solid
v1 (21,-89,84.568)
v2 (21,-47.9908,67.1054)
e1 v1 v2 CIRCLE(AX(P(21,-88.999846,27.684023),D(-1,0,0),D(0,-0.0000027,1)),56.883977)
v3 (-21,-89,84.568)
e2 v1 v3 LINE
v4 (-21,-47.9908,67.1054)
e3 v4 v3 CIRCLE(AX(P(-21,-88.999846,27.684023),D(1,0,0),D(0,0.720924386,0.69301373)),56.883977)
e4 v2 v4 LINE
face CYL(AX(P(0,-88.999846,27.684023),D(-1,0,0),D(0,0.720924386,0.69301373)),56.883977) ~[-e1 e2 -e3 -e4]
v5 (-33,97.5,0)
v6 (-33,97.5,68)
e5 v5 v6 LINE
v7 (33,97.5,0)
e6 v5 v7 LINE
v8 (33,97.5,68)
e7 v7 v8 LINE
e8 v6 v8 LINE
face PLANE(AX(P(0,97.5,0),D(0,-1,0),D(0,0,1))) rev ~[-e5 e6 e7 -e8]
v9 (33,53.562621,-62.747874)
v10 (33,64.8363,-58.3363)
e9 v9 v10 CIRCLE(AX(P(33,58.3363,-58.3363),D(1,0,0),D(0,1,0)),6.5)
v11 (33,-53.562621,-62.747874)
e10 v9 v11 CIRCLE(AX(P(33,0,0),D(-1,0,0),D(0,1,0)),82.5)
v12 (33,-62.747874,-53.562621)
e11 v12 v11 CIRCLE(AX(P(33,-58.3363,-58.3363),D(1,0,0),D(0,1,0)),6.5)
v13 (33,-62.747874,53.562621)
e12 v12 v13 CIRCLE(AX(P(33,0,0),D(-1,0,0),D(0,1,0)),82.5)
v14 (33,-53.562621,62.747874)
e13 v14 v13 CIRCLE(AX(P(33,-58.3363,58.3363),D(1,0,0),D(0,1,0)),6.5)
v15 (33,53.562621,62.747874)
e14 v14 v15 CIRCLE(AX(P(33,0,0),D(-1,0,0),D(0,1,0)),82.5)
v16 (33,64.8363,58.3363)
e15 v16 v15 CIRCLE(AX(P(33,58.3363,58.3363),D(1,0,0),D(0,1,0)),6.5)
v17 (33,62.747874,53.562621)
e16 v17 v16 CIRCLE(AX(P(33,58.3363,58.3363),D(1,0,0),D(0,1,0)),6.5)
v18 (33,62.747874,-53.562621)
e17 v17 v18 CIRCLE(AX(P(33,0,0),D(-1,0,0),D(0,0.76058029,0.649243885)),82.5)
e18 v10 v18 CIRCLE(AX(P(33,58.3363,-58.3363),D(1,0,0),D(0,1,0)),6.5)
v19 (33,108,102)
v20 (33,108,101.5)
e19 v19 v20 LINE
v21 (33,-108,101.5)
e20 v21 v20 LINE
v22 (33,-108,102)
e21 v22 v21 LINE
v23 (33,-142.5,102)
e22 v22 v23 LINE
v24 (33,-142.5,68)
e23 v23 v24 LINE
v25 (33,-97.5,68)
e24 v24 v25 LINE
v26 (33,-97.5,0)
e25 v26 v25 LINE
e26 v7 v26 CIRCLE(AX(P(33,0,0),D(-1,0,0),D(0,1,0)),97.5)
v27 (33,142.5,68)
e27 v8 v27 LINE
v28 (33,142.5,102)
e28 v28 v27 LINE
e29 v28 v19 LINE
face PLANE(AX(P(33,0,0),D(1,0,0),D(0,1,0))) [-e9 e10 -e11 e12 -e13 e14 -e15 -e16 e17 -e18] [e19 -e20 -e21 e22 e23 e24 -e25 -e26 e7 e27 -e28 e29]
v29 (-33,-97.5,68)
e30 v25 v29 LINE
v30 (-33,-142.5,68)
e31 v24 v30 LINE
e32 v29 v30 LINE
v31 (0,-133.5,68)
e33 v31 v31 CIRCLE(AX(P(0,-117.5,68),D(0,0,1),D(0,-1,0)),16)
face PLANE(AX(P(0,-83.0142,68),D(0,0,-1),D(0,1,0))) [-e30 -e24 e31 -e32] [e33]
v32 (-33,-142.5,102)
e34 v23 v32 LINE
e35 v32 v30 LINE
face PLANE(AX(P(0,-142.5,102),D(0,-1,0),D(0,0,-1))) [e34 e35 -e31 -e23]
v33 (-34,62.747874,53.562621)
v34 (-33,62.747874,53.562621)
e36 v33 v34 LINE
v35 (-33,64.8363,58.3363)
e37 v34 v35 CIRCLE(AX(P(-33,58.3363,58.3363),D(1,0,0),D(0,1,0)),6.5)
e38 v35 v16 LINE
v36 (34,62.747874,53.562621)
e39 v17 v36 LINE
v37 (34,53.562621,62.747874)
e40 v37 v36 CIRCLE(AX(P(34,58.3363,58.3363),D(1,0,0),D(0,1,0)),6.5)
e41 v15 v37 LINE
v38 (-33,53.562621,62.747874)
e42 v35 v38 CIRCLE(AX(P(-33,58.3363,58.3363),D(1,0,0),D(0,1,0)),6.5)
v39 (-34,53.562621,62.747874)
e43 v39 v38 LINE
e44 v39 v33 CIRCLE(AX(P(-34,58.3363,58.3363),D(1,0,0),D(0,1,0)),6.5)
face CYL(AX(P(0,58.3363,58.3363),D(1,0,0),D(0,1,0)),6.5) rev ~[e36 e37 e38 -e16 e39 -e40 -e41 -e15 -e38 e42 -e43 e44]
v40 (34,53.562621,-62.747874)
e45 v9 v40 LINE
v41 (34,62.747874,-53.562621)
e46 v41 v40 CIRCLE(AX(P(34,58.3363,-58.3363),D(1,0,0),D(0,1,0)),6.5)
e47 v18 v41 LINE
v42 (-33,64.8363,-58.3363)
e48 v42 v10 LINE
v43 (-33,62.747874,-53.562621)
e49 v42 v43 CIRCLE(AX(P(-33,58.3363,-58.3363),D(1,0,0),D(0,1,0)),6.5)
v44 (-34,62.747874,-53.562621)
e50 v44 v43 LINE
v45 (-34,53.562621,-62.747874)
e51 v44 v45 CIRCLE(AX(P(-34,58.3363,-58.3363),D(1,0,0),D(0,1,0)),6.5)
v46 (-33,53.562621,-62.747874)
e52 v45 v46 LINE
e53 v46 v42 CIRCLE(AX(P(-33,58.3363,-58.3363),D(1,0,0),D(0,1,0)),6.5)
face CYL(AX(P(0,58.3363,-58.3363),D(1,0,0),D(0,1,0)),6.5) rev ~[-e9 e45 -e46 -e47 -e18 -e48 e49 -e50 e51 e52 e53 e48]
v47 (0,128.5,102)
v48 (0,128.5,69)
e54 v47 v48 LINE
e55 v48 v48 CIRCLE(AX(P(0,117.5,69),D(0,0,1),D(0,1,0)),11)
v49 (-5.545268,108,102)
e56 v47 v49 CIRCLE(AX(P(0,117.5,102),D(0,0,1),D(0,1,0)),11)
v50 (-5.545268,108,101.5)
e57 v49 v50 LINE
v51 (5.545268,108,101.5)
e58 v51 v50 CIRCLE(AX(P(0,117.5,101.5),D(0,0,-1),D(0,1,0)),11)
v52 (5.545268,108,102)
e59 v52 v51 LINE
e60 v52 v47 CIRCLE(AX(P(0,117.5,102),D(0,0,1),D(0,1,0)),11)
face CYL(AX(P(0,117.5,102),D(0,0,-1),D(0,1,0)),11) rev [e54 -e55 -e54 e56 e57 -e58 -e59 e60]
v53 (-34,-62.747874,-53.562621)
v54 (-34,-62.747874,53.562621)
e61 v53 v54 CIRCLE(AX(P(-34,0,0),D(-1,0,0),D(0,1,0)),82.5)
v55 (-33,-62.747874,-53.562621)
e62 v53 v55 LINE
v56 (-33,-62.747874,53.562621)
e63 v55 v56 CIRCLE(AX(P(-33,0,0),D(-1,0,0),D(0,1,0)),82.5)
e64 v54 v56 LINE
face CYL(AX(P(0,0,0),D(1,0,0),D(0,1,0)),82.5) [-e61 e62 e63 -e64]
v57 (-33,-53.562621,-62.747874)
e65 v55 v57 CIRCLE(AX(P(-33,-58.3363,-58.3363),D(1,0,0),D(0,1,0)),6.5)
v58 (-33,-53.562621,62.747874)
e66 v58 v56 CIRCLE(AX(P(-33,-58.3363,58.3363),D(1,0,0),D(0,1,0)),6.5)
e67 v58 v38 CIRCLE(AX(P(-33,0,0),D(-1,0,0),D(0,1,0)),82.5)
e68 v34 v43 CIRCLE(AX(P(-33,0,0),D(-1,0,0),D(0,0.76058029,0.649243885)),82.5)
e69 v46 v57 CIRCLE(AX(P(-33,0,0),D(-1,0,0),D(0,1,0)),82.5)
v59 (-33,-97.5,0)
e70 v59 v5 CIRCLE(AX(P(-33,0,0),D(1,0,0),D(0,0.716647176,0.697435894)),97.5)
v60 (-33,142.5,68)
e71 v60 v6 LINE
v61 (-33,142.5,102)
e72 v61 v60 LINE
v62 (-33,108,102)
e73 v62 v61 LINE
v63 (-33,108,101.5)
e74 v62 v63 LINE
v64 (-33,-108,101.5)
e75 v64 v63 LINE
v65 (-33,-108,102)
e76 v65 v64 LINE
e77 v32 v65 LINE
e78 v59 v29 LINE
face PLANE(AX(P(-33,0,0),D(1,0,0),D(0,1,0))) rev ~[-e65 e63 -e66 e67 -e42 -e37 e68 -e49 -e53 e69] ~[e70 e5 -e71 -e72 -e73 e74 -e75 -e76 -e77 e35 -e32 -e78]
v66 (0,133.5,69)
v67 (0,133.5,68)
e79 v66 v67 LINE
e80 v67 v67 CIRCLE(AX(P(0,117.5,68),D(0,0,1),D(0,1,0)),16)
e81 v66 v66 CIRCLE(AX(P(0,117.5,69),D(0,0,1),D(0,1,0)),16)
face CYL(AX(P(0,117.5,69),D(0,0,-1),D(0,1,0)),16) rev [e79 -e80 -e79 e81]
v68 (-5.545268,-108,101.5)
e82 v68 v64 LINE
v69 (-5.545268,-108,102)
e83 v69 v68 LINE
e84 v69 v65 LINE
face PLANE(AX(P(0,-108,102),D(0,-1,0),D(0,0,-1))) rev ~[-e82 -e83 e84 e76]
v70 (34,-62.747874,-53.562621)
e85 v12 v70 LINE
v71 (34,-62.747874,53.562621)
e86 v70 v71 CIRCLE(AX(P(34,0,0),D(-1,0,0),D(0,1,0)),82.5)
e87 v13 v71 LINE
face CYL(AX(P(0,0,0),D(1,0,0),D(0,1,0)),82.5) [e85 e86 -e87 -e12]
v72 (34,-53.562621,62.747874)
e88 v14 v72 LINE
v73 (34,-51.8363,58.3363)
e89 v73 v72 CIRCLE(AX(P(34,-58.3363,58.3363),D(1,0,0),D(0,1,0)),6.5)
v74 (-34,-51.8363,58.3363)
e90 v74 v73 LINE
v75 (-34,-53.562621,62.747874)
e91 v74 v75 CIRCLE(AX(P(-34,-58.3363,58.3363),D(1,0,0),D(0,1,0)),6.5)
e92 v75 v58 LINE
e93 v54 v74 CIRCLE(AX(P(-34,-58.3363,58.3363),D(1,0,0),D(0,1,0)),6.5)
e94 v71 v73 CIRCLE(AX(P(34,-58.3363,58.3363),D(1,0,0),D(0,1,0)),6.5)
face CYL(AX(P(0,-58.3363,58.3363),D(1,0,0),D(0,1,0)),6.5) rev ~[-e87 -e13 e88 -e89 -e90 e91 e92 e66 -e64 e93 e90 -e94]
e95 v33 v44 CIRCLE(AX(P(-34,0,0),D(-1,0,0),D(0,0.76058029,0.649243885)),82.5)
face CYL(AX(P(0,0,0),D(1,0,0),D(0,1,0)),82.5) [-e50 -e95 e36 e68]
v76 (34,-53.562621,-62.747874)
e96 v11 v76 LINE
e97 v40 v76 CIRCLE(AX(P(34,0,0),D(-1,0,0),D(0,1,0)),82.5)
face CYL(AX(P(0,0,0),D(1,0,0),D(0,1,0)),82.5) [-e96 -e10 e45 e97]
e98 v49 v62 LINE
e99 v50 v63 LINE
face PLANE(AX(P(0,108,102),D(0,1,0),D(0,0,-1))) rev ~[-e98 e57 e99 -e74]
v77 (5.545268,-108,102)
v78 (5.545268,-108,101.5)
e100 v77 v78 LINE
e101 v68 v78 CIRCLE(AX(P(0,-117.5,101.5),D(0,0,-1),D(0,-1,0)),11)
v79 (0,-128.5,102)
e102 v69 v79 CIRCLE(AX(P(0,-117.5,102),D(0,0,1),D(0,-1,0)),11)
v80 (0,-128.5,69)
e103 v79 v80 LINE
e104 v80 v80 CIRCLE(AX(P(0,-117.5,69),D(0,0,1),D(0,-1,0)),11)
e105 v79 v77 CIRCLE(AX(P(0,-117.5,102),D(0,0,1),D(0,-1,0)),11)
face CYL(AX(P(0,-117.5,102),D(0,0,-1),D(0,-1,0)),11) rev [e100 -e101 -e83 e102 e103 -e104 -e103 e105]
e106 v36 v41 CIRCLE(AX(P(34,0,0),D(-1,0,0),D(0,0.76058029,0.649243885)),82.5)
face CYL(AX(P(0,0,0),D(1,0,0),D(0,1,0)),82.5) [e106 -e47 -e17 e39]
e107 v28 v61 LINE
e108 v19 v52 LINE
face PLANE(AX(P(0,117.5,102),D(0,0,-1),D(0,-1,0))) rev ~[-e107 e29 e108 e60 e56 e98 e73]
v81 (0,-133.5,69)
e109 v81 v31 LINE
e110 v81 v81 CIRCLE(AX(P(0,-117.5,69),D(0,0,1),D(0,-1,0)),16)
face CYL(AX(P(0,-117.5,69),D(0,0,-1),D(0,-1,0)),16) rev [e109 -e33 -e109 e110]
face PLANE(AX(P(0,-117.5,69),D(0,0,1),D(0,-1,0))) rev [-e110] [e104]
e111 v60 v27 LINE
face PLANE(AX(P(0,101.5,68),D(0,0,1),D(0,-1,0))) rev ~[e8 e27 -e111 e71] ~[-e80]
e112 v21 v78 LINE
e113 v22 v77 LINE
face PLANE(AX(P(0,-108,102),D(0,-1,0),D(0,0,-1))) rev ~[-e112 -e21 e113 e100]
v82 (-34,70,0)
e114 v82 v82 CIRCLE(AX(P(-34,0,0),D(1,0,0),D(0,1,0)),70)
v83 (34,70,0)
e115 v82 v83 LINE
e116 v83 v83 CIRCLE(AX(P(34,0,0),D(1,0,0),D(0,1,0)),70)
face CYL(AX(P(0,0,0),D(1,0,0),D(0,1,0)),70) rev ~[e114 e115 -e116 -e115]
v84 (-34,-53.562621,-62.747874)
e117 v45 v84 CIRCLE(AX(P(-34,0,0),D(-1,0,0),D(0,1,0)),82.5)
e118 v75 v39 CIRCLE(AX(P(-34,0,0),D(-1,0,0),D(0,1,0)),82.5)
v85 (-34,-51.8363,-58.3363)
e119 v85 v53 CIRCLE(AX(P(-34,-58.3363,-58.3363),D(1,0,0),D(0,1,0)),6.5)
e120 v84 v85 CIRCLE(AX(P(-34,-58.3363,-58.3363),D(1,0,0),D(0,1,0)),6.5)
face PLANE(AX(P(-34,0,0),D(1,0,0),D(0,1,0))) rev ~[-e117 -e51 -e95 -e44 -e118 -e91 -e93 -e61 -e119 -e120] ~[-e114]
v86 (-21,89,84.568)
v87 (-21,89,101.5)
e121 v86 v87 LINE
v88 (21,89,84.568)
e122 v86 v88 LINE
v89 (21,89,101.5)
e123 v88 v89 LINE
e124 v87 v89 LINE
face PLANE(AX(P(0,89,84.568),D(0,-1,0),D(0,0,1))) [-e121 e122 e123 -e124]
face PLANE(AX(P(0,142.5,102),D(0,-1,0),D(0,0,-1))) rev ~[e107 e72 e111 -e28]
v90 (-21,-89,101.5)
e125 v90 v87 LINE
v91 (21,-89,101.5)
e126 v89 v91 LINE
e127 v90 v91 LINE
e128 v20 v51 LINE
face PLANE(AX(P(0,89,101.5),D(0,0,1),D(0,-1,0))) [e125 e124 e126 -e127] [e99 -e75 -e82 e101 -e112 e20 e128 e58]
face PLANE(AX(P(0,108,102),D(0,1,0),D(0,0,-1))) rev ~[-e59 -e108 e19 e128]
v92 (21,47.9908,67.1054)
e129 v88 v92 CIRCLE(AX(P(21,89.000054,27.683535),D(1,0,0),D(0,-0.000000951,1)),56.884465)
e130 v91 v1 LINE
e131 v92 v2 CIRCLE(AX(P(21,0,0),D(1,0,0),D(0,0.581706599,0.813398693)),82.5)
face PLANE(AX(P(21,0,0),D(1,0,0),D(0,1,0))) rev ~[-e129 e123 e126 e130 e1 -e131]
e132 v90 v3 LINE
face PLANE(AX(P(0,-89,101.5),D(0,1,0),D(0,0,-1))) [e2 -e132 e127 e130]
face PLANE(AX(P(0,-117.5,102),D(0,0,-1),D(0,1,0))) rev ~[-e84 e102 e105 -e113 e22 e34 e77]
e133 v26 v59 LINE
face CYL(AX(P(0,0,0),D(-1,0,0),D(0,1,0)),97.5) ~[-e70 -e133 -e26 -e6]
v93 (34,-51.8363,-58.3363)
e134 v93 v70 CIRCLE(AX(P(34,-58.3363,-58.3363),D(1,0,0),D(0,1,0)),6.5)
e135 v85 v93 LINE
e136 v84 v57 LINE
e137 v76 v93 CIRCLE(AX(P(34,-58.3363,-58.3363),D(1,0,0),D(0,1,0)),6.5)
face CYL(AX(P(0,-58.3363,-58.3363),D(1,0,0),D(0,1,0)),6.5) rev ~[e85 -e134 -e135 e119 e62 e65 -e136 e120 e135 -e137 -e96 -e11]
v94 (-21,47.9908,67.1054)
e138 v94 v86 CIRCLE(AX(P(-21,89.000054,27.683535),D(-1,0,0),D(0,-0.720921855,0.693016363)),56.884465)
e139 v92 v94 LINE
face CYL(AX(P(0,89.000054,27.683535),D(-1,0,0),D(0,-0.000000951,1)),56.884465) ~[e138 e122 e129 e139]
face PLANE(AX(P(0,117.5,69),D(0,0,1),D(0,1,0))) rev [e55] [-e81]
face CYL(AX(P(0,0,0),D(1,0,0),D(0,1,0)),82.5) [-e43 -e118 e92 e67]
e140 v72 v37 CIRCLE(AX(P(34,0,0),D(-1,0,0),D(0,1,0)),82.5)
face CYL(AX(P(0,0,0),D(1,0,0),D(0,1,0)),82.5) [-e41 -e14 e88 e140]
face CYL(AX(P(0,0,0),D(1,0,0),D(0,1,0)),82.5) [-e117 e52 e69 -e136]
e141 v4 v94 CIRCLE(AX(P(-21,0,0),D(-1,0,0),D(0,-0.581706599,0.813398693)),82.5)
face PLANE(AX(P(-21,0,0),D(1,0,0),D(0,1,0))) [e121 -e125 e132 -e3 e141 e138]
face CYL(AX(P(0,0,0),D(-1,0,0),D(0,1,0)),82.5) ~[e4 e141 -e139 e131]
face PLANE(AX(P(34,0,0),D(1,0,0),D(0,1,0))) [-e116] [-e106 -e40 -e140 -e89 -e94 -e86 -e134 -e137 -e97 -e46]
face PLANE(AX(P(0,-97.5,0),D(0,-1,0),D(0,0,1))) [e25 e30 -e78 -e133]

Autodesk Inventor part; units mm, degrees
ref_plane "XZ Plane" through (0, 0, 0) normal (0, 1, 0) x (-1, 0, 0)
ref_plane "XY Plane" through (0, 0, 0) normal (0, 0, 1) x (1, 0, 0)
sketch "Эскиз1" plane through (0, 0, 0) normal (1, 0, 0) x (0, 1, 0)
  circle A0 centre (0, 0) radius 70
  circle A1 centre (0, 0) radius 82.5
  arc A2 (80.4212, 18.894) -> (80.3103, 18.8815) centre (82.3009, 1.7165) ccw
  circle A3 centre (0, 0) radius 97.5
  line L0 (142.5, 102) -> (108, 102)
  line L1 (0, -132.6) -> (0, 165.6) projected
  line L2 (142.5, 102) -> (142.5, 68)
  line L3 (108, 102) -> (108, 101.5)
  line L4 (108, 101.5) -> (0, 101.5)
  line L5 (-142.5, 102) -> (-108, 102)
  line L6 (-142.5, 102) -> (-142.5, 68)
  line L7 (-108, 102) -> (-108, 101.5)
  line L8 (-108, 101.5) -> (0, 101.5)
  arc A4 (11.7449, -38.2368) -> (27.2385, -29.2927) centre (0, 0) ccw
  arc A5 (-27.2416, -29.2898) -> (-11.749, -38.2356) centre (0, 0) ccw
  line L9 (-142.5, 68) -> (-69.8731, 68)
  line L10 (97.5, 0) -> (97.5, 68)
  line L11 (142.5, 68) -> (69.8731, 68)
  line L12 (-97.5, 0) -> (-97.5, 68)
  line L13 (117.5, 43) -> (117.5, 123)
  line L14 (-117.5, 43) -> (-117.5, 123)
  line L15 (133.5, 68) -> (117.5, 68)
  line L16 (117.5, 68) -> (117.5, 69)
  line L17 (117.5, 69) -> (133.5, 69)
  line L18 (133.5, 69) -> (133.5, 68)
  line L19 (128.5, 69) -> (117.5, 69)
  line L20 (117.5, 69) -> (117.5, 85)
  line L21 (128.5, 102) -> (128.5, 69)
  line L22 (133.5, 102) -> (117.5, 102)
  line L23 (117.5, 69) -> (101.5, 69)
  line L24 (101.5, 69) -> (101.5, 68)
  line L25 (106.5, 101.5) -> (106.5, 69)
  line L26 (-108, 102) -> (-108, 101.5)
  line L27 (-133.5, 68) -> (-117.5, 68)
  line L28 (-117.5, 68) -> (-117.5, 69)
  line L29 (-117.5, 69) -> (-133.5, 69)
  line L30 (-133.5, 69) -> (-133.5, 68)
  line L31 (-128.5, 69) -> (-117.5, 69)
  line L32 (-117.5, 69) -> (-117.5, 85)
  line L33 (-128.5, 102) -> (-128.5, 69)
  line L34 (-133.5, 102) -> (-117.5, 102)
  line L35 (-101.5, 69) -> (-101.5, 68)
  line L36 (-117.5, 69) -> (-101.5, 69)
  line L37 (-106.5, 101.5) -> (-106.5, 69)
  line L38 (117.5, 68) -> (117.5, 102)
  line L39 (-117.5, 68) -> (-117.5, 102)
  line L40 (0, 0) -> (69.6414, -69.6414)
  circle A6 centre (58.3363, -58.3363) radius 6.5
  circle A7 centre (58.3363, 58.3363) radius 6.5
  circle A8 centre (-58.3363, 58.3363) radius 6.5
  circle A9 centre (-58.3363, -58.3363) radius 6.5
  arc A10 (69.8731, 68) -> (-69.8731, 68) centre (0, 0) ccw
  line L41 (97.5, 68) -> (69.8731, 68)
  line L42 (-69.8731, 68) -> (-97.5, 68)
  line L43 (128.5, 69) -> (128.5, 102)
  line L44 (89, 68) -> (89, 101.5)
  arc A11 (83.0142, 68) -> (79.5188, 56.4182) centre (116.097, 51.6972) ccw
  arc A12 (79.5188, 56.4182) -> (62.6803, 74.6822) centre (0, 0) ccw
  line L45 (83.0142, 68) -> (83.0142, 84.568)
  line L46 (83.0142, 84.568) -> (89, 84.568)
  arc A13 (79.5188, 56.4182) -> (62.6803, 74.6822) centre (0, 0) ccw
  line L47 (-101.5, 69) -> (-101.5, 68)
  line L48 (-97.5, 68) -> (-69.8731, 68)
  arc A14 (-79.5188, 56.4182) -> (-83.0142, 68) centre (-116.097, 51.6972) ccw
  arc A15 (-62.6803, 74.6822) -> (-79.5188, 56.4182) centre (0, 0) ccw
  line L49 (-83.0142, 68) -> (-83.0142, 84.568)
  line L50 (-83.0142, 84.568) -> (-89, 84.568)
  arc A16 (-62.6803, 74.6822) -> (-79.5188, 56.4182) centre (0, 0) ccw
  line L51 (0, 97.5) -> (0, 101.5)
  line L52 (0, 101.5) -> (89, 101.5)
  line L53 (89, 101.5) -> (89, 84.568)
  arc A17 (62.6803, 74.6822) -> (0, 97.5) centre (0, 0) ccw
  arc A18 (89, 84.568) -> (47.9908, 67.1054) centre (89, 27.6838) ccw
  arc A19 (47.9908, 67.1054) -> (0, 82.5) centre (0, 0) ccw
  line L54 (79.5188, 56.4182) -> (60.3628, 70.1005)
  line L55 (60.3628, 70.1005) -> (47.9908, 67.1054)
  arc A20 (-47.9908, 67.1054) -> (-89, 84.568) centre (-89, 27.6838) ccw
  line L56 (-79.5188, 56.4182) -> (-59.1498, 66.8423)
  line L57 (-59.1498, 66.8423) -> (-47.9908, 67.1054)
  line L58 (0, 101.5) -> (-89, 101.5)
  line L59 (-89, 101.5) -> (-89, 84.568)
  arc A21 (-47.9908, 67.1054) -> (-89, 84.568) centre (-89, 27.6838) ccw
  arc A22 (0, 82.5) -> (-47.9908, 67.1054) centre (0, 0) ccw
  arc A23 (47.9908, 67.1054) -> (-47.9908, 67.1054) centre (0, 0) ccw
  point P0 (80.4117, 18.4447)
  point P1 (0, -97.5)
  point P2 (128.5, 85)
  point P3 (106.5, 85)
  point P4 (-128.5, 85)
  point P5 (-106.5, 85)
  point P6 (-89, 68)
  dimension "d0" = 140
  dimension "d4" = 165
  dimension "d19" = 195
  dimension "d20" = 199.5
  dimension "d22" = 285
  dimension "d23" = 216
  dimension "d24" = 0.5
  dimension "d46" = 34
  dimension "d64" = 235
  dimension "d65" = 16
  dimension "d66" = 11
  dimension "d67" = 1
  dimension "d70" = 45
  dimension "d71" = 13
  dimension "d74" = 360
  dimension "d84" = 12.5
extrude "Выдавливание1" add sketch "Эскиз1" along normal blind 34 and the other way blind 34 contours A0 L1 A1 A7 A6 L40 | A0 L1 A1 A9 A8 | L40 A6 A1 L1 A0 | A6 A1 L40 | L40 A1 A6 | A1 A9 | A1 A7 | A8 A1 picked at (57.6773, -55.9908) picked at (55.9908, -57.6773) picked at (-56.6588, -56.9353) picked at (56.9815, 56.6214) picked at (-56.6588, 56.9353)
extrude "Выдавливание2" add sketch "Эскиз1" along normal blind 34 and the other way blind 34 contours A0 L40 L1 | A0 L1 A1 A7 A6 L40 | L1 A0 | A0 L1 A1 A9 A8 | L40 A6 A1 L1 A0 | A0 L1 L40 | A6 A1 L40 | L40 A1 A6 | A1 A9 | A1 A7 | A8 A1 picked at (57.6773, -55.9908) picked at (55.9908, -57.6773) picked at (-56.6588, -56.9353) picked at (56.9815, 56.6214) picked at (-56.6588, 56.9353)
pattern_circular "Круговой массив1" count 6 over 360 about axis through (0, 0, 0) along (1, 0, 0) of "Выдавливание2"
extrude "Выдавливание3" add sketch "Эскиз1" along normal blind 33 and the other way blind 33 contours A0 L40 L1 | A0 L1 A1 A7 A6 L40 | L1 A0 | A0 L1 A1 A9 A8 | L40 A6 A1 L1 A0 | A0 L1 L40 | L1 A3 A18 A1 | A1 A20 A3 L1 | A6 A1 L40 | L40 A1 A6 | L1 A3 L56 L57 A1 A8 A9 | A1 A6 L40 A3 L1 | L55 L54 A3 L40 A6 A1 A7 | A18 A3 L54 L55 | L57 L56 A3 A20 | L40 A6 A1 | A1 A6 L40 | A9 A1 | A1 A9 | A7 A1 | A1 A7 | A8 A1 | A1 A8 | A11 L11 L10 A3 | A3 L11 A11
extrude "Выдавливание4" add sketch "Эскиз1" along normal blind 33 and the other way blind 33 contours L12 L9 A14 A3 | A14 L9 A3
extrude "Выдавливание7" add sketch "Эскиз1" along normal blind 33 and the other way blind 33 contours A0 L40 L1 | A0 L1 A1 A7 A6 L40 | L1 A0 | A0 L1 A1 A9 A8 | L40 A6 A1 L1 A0 | A0 L1 L40 | L1 A3 A18 A1 | A1 A20 A3 L1 | L1 A3 L56 L57 A1 A8 A9 | A1 A6 L40 A3 L1 | L55 L54 A3 L40 A6 A1 A7 | A18 A3 L54 L55 | L57 L56 A3 A20 | L1 L4 L44 L46 L45 A18 A3 | A3 A20 L49 L50 L59 L8 L1 | A18 L45 L11 A3 | A3 L9 L49 A20 | A18 L44 L11 L45 | L45 L46 A18 | A20 L50 L49 | L49 L9 L35 L36 L37 L8 L59 A20 | L4 L25 L23 L24 L11 L44 | L37 L36 L14 L5 L7 L8 | L9 L14 L36 L35 | L23 L13 L11 L24 | L9 L30 L29 L14 | L17 L18 L11 L13 | L29 L33 L5 L14 | L9 L6 L5 L33 L29 L30 | L21 L0 L2 L11 L18 L17
extrude "Выдавливание8" add sketch "Эскиз1" along normal blind 33 and the other way blind 33 contours L4 L3 L0 L13 L23 L25 | L17 L18 L11 L13 | L13 L0 L21 L17 | L21 L0 L2 L11 L18 L17
revolve "Вращение2" cut sketch "Эскиз1" angle 360 about axis through (0, -117.5, 43) along (0, 0, 1) contours L9 L30 L29 L14 | L29 L33 L5 L14
extrude "Выдавливание9" add sketch "Эскиз1" along normal blind 33 and the other way blind 33 contours A18 L44 L11 L45 | L45 L46 A18 | L4 L25 L23 L24 L11 L44 | L23 L13 L11 L24 | L17 L18 L11 L13
extrude "Выдавливание11" [suppressed]
revolve "Вращение1" cut sketch "Эскиз1" angle 360 about axis through (0, 117.5, 43) along (0, 0, 1) contours L17 L18 L11 L13 | L13 L0 L21 L17
extrude "Выдавливание12" cut sketch "Эскиз1" along normal blind 21 and the other way blind 21 contours L1 A3 A18 A1 | A1 A20 A3 L1 | L1 L4 L44 L46 L45 A18 A3 | A3 A20 L49 L50 L59 L8 L1 | L45 L46 A18 | A20 L50 L49
extrude "Выдавливание13" cut sketch "Эскиз1" along normal through all both and the other way through all contours A6 A1 L40 | L40 A1 A6 | L40 A6 A1 | A1 A6 L40 | A9 A1 | A1 A9 | A7 A1 | A1 A7 | A8 A1 | A1 A8
extrude "Выдавливание14" cut sketch "Эскиз1" along normal through all both and the other way through all contours A0 L40 L1 | L1 A0 | A0 L1 L40
sketch "Эскиз3" plane through (34, 0, 0) normal (1, 0, 0) x (0, 0, -1)
  line L0 (-68, 97.5) -> (-68, 142.5) projected
  line L1 (-68, 97.5) -> (-68, 86.5)
  line L2 (-68, 86.5) -> (-85, 67.5)
  line L3 (-85, 67.5) -> (-101.5, 67.5)
  line L4 (-101.5, 89) -> (-101.5, -89) projected
  line L5 (-101.5, 67.5) -> (-101.5, 0)
  arc A0 (0, 97.5) -> (0, 97.5) centre (0, 0) ccw projected
  line L6 (-68, 97.5) -> (-52.0783, 73.402)
  line L7 (137.4, 0) -> (-141.9, 0) projected
  line L8 (-68, -97.5) -> (-64, -83.0142)
  line L9 (-68, -97.5) -> (-68, -86.5)
  line L10 (-68, -86.5) -> (-85, -67.5)
  line L11 (-85, -67.5) -> (-101.5, -67.5)
  line L12 (-101.5, -67.5) -> (-101.5, 0)
  line L13 (-68, -97.5) -> (-52.0783, -73.402)
  arc A1 (-64, 83.0142) -> (-52.0783, 73.402) centre (-35.394, 106.294) ccw projected
  arc A2 (-52.0783, -73.402) -> (-64, -83.0142) centre (-35.394, -106.294) ccw projected
  arc A3 (-52.0783, 73.402) -> (-52.0783, -73.402) centre (0, 0) ccw
  point P0 (-68, 142.5)
extrude "Выдавливание15" [suppressed]
extrude "Выдавливание16" [suppressed]
sketch "Эскиз4" plane through (-34, 0, 0) normal (-1, 0, 0) x (0, -1, 0)
  circle A0 centre (-58.3363, -58.3363) radius 6.5 projected
  arc A1 (-66.7759, -48.4482) -> (-58.3363, -58.3363) centre (0, 0) ccw
  arc A2 (-66.7759, -48.4482) -> (-48.4482, -66.7759) centre (-58.3363, -58.3363) ccw
  arc A3 (-58.3363, -58.3363) -> (-48.4482, -66.7759) centre (0, 0) ccw
  arc A4 (-62.7479, -53.5626) -> (-53.5626, -62.7479) centre (-58.3363, -58.3363) ccw
  arc A5 (-53.5626, -62.7479) -> (-48.4482, -66.7759) centre (0, 0) ccw
  arc A6 (-66.7759, -48.4482) -> (-62.7479, -53.5626) centre (0, 0) ccw
  arc A7 (48.4482, -66.7759) -> (58.3363, -58.3363) centre (0, 0) ccw
  arc A8 (48.4482, -66.7759) -> (66.7759, -48.4482) centre (58.3363, -58.3363) ccw
  arc A9 (58.3363, -58.3363) -> (66.7759, -48.4482) centre (0, 0) ccw
  arc A10 (53.5626, -62.7479) -> (62.7479, -53.5626) centre (58.3363, -58.3363) ccw
  arc A11 (62.7479, -53.5626) -> (66.7759, -48.4482) centre (0, 0) ccw
  arc A12 (48.4482, -66.7759) -> (53.5626, -62.7479) centre (0, 0) ccw
  arc A13 (66.7759, 48.4482) -> (58.3363, 58.3363) centre (0, 0) ccw
  arc A14 (66.7759, 48.4482) -> (48.4482, 66.7759) centre (58.3363, 58.3363) ccw
  arc A15 (58.3363, 58.3363) -> (48.4482, 66.7759) centre (0, 0) ccw
  arc A16 (62.7479, 53.5626) -> (53.5626, 62.7479) centre (58.3363, 58.3363) ccw
  arc A17 (53.5626, 62.7479) -> (48.4482, 66.7759) centre (0, 0) ccw
  arc A18 (66.7759, 48.4482) -> (62.7479, 53.5626) centre (0, 0) ccw
  arc A19 (-48.4482, 66.7759) -> (-58.3363, 58.3363) centre (0, 0) ccw
  arc A20 (-48.4482, 66.7759) -> (-66.7759, 48.4482) centre (-58.3363, 58.3363) ccw
  arc A21 (-58.3363, 58.3363) -> (-66.7759, 48.4482) centre (0, 0) ccw
  arc A22 (-53.5626, 62.7479) -> (-62.7479, 53.5626) centre (-58.3363, 58.3363) ccw
  arc A23 (-62.7479, 53.5626) -> (-66.7759, 48.4482) centre (0, 0) ccw
  arc A24 (-48.4482, 66.7759) -> (-53.5626, 62.7479) centre (0, 0) ccw
  arc A25 (-66.7759, -48.4482) -> (-48.4482, -66.7759) centre (0, 0) ccw
  arc A26 (-66.7759, -48.4482) -> (-48.4482, -66.7759) centre (0, 0) ccw
  arc A27 (-66.7759, -48.4482) -> (-48.4482, -66.7759) centre (0, 0) ccw
  arc A28 (-66.7759, -48.4482) -> (-48.4482, -66.7759) centre (-58.3363, -58.3363) ccw
  dimension "d112" = 360
  dimension "d116" = 360
  dimension "d118" = 13
equation "\"d0\" = D"
equation "\"d4\" = D1"
equation "\"d19\" = -2 * H1 + 2 * H_"
equation "\"d20\" = H_"
equation "\"d22\" = L"
equation "\"d23\" = t"
equation "\"d46\" = h_"
equation "\"d64\" = L2"
equation "\"d65\" = 0.5 * d3"
equation "\"d66\" = 0.5 * d1"
equation "\"d71\" = d"
equation "\"d25\" = 0.5 * B"
equation "\"d26\" = 0.5 * B"
equation "\"d34\" = 0.5 * B"
equation "\"d35\" = 0.5 * B"
equation "\"d76\" = 0.5 * B1"
equation "\"d77\" = 0.5 * B1"
equation "\"d80\" = 0.5 * B1"
equation "\"d81\" = 0.5 * B1"
equation "\"d85\" = 0.5 * B1"
equation "\"d86\" = 0.5 * B1"
equation "\"d94\" = 0.5 * B1"
equation "\"d95\" = 0.5 * B"
equation "\"D\" = 140"
equation "\"D1\" = 165"
equation "\"d\" = 13"
equation "\"del\" = 0.12"
equation "\"d1\" = 22"
equation "\"L2\" = 235"
equation "\"B\" = 68"
equation "\"B1\" = 66"
equation "\"L\" = 285"
equation "\"L1\" = 195"
equation "\"t\" = 216"
equation "\"H_\" = 199.5"
equation "\"H1\" = 102"
equation "\"h_\" = 34"
equation "\"d3\" = 32"
properties part number "корпус подшипника1"
